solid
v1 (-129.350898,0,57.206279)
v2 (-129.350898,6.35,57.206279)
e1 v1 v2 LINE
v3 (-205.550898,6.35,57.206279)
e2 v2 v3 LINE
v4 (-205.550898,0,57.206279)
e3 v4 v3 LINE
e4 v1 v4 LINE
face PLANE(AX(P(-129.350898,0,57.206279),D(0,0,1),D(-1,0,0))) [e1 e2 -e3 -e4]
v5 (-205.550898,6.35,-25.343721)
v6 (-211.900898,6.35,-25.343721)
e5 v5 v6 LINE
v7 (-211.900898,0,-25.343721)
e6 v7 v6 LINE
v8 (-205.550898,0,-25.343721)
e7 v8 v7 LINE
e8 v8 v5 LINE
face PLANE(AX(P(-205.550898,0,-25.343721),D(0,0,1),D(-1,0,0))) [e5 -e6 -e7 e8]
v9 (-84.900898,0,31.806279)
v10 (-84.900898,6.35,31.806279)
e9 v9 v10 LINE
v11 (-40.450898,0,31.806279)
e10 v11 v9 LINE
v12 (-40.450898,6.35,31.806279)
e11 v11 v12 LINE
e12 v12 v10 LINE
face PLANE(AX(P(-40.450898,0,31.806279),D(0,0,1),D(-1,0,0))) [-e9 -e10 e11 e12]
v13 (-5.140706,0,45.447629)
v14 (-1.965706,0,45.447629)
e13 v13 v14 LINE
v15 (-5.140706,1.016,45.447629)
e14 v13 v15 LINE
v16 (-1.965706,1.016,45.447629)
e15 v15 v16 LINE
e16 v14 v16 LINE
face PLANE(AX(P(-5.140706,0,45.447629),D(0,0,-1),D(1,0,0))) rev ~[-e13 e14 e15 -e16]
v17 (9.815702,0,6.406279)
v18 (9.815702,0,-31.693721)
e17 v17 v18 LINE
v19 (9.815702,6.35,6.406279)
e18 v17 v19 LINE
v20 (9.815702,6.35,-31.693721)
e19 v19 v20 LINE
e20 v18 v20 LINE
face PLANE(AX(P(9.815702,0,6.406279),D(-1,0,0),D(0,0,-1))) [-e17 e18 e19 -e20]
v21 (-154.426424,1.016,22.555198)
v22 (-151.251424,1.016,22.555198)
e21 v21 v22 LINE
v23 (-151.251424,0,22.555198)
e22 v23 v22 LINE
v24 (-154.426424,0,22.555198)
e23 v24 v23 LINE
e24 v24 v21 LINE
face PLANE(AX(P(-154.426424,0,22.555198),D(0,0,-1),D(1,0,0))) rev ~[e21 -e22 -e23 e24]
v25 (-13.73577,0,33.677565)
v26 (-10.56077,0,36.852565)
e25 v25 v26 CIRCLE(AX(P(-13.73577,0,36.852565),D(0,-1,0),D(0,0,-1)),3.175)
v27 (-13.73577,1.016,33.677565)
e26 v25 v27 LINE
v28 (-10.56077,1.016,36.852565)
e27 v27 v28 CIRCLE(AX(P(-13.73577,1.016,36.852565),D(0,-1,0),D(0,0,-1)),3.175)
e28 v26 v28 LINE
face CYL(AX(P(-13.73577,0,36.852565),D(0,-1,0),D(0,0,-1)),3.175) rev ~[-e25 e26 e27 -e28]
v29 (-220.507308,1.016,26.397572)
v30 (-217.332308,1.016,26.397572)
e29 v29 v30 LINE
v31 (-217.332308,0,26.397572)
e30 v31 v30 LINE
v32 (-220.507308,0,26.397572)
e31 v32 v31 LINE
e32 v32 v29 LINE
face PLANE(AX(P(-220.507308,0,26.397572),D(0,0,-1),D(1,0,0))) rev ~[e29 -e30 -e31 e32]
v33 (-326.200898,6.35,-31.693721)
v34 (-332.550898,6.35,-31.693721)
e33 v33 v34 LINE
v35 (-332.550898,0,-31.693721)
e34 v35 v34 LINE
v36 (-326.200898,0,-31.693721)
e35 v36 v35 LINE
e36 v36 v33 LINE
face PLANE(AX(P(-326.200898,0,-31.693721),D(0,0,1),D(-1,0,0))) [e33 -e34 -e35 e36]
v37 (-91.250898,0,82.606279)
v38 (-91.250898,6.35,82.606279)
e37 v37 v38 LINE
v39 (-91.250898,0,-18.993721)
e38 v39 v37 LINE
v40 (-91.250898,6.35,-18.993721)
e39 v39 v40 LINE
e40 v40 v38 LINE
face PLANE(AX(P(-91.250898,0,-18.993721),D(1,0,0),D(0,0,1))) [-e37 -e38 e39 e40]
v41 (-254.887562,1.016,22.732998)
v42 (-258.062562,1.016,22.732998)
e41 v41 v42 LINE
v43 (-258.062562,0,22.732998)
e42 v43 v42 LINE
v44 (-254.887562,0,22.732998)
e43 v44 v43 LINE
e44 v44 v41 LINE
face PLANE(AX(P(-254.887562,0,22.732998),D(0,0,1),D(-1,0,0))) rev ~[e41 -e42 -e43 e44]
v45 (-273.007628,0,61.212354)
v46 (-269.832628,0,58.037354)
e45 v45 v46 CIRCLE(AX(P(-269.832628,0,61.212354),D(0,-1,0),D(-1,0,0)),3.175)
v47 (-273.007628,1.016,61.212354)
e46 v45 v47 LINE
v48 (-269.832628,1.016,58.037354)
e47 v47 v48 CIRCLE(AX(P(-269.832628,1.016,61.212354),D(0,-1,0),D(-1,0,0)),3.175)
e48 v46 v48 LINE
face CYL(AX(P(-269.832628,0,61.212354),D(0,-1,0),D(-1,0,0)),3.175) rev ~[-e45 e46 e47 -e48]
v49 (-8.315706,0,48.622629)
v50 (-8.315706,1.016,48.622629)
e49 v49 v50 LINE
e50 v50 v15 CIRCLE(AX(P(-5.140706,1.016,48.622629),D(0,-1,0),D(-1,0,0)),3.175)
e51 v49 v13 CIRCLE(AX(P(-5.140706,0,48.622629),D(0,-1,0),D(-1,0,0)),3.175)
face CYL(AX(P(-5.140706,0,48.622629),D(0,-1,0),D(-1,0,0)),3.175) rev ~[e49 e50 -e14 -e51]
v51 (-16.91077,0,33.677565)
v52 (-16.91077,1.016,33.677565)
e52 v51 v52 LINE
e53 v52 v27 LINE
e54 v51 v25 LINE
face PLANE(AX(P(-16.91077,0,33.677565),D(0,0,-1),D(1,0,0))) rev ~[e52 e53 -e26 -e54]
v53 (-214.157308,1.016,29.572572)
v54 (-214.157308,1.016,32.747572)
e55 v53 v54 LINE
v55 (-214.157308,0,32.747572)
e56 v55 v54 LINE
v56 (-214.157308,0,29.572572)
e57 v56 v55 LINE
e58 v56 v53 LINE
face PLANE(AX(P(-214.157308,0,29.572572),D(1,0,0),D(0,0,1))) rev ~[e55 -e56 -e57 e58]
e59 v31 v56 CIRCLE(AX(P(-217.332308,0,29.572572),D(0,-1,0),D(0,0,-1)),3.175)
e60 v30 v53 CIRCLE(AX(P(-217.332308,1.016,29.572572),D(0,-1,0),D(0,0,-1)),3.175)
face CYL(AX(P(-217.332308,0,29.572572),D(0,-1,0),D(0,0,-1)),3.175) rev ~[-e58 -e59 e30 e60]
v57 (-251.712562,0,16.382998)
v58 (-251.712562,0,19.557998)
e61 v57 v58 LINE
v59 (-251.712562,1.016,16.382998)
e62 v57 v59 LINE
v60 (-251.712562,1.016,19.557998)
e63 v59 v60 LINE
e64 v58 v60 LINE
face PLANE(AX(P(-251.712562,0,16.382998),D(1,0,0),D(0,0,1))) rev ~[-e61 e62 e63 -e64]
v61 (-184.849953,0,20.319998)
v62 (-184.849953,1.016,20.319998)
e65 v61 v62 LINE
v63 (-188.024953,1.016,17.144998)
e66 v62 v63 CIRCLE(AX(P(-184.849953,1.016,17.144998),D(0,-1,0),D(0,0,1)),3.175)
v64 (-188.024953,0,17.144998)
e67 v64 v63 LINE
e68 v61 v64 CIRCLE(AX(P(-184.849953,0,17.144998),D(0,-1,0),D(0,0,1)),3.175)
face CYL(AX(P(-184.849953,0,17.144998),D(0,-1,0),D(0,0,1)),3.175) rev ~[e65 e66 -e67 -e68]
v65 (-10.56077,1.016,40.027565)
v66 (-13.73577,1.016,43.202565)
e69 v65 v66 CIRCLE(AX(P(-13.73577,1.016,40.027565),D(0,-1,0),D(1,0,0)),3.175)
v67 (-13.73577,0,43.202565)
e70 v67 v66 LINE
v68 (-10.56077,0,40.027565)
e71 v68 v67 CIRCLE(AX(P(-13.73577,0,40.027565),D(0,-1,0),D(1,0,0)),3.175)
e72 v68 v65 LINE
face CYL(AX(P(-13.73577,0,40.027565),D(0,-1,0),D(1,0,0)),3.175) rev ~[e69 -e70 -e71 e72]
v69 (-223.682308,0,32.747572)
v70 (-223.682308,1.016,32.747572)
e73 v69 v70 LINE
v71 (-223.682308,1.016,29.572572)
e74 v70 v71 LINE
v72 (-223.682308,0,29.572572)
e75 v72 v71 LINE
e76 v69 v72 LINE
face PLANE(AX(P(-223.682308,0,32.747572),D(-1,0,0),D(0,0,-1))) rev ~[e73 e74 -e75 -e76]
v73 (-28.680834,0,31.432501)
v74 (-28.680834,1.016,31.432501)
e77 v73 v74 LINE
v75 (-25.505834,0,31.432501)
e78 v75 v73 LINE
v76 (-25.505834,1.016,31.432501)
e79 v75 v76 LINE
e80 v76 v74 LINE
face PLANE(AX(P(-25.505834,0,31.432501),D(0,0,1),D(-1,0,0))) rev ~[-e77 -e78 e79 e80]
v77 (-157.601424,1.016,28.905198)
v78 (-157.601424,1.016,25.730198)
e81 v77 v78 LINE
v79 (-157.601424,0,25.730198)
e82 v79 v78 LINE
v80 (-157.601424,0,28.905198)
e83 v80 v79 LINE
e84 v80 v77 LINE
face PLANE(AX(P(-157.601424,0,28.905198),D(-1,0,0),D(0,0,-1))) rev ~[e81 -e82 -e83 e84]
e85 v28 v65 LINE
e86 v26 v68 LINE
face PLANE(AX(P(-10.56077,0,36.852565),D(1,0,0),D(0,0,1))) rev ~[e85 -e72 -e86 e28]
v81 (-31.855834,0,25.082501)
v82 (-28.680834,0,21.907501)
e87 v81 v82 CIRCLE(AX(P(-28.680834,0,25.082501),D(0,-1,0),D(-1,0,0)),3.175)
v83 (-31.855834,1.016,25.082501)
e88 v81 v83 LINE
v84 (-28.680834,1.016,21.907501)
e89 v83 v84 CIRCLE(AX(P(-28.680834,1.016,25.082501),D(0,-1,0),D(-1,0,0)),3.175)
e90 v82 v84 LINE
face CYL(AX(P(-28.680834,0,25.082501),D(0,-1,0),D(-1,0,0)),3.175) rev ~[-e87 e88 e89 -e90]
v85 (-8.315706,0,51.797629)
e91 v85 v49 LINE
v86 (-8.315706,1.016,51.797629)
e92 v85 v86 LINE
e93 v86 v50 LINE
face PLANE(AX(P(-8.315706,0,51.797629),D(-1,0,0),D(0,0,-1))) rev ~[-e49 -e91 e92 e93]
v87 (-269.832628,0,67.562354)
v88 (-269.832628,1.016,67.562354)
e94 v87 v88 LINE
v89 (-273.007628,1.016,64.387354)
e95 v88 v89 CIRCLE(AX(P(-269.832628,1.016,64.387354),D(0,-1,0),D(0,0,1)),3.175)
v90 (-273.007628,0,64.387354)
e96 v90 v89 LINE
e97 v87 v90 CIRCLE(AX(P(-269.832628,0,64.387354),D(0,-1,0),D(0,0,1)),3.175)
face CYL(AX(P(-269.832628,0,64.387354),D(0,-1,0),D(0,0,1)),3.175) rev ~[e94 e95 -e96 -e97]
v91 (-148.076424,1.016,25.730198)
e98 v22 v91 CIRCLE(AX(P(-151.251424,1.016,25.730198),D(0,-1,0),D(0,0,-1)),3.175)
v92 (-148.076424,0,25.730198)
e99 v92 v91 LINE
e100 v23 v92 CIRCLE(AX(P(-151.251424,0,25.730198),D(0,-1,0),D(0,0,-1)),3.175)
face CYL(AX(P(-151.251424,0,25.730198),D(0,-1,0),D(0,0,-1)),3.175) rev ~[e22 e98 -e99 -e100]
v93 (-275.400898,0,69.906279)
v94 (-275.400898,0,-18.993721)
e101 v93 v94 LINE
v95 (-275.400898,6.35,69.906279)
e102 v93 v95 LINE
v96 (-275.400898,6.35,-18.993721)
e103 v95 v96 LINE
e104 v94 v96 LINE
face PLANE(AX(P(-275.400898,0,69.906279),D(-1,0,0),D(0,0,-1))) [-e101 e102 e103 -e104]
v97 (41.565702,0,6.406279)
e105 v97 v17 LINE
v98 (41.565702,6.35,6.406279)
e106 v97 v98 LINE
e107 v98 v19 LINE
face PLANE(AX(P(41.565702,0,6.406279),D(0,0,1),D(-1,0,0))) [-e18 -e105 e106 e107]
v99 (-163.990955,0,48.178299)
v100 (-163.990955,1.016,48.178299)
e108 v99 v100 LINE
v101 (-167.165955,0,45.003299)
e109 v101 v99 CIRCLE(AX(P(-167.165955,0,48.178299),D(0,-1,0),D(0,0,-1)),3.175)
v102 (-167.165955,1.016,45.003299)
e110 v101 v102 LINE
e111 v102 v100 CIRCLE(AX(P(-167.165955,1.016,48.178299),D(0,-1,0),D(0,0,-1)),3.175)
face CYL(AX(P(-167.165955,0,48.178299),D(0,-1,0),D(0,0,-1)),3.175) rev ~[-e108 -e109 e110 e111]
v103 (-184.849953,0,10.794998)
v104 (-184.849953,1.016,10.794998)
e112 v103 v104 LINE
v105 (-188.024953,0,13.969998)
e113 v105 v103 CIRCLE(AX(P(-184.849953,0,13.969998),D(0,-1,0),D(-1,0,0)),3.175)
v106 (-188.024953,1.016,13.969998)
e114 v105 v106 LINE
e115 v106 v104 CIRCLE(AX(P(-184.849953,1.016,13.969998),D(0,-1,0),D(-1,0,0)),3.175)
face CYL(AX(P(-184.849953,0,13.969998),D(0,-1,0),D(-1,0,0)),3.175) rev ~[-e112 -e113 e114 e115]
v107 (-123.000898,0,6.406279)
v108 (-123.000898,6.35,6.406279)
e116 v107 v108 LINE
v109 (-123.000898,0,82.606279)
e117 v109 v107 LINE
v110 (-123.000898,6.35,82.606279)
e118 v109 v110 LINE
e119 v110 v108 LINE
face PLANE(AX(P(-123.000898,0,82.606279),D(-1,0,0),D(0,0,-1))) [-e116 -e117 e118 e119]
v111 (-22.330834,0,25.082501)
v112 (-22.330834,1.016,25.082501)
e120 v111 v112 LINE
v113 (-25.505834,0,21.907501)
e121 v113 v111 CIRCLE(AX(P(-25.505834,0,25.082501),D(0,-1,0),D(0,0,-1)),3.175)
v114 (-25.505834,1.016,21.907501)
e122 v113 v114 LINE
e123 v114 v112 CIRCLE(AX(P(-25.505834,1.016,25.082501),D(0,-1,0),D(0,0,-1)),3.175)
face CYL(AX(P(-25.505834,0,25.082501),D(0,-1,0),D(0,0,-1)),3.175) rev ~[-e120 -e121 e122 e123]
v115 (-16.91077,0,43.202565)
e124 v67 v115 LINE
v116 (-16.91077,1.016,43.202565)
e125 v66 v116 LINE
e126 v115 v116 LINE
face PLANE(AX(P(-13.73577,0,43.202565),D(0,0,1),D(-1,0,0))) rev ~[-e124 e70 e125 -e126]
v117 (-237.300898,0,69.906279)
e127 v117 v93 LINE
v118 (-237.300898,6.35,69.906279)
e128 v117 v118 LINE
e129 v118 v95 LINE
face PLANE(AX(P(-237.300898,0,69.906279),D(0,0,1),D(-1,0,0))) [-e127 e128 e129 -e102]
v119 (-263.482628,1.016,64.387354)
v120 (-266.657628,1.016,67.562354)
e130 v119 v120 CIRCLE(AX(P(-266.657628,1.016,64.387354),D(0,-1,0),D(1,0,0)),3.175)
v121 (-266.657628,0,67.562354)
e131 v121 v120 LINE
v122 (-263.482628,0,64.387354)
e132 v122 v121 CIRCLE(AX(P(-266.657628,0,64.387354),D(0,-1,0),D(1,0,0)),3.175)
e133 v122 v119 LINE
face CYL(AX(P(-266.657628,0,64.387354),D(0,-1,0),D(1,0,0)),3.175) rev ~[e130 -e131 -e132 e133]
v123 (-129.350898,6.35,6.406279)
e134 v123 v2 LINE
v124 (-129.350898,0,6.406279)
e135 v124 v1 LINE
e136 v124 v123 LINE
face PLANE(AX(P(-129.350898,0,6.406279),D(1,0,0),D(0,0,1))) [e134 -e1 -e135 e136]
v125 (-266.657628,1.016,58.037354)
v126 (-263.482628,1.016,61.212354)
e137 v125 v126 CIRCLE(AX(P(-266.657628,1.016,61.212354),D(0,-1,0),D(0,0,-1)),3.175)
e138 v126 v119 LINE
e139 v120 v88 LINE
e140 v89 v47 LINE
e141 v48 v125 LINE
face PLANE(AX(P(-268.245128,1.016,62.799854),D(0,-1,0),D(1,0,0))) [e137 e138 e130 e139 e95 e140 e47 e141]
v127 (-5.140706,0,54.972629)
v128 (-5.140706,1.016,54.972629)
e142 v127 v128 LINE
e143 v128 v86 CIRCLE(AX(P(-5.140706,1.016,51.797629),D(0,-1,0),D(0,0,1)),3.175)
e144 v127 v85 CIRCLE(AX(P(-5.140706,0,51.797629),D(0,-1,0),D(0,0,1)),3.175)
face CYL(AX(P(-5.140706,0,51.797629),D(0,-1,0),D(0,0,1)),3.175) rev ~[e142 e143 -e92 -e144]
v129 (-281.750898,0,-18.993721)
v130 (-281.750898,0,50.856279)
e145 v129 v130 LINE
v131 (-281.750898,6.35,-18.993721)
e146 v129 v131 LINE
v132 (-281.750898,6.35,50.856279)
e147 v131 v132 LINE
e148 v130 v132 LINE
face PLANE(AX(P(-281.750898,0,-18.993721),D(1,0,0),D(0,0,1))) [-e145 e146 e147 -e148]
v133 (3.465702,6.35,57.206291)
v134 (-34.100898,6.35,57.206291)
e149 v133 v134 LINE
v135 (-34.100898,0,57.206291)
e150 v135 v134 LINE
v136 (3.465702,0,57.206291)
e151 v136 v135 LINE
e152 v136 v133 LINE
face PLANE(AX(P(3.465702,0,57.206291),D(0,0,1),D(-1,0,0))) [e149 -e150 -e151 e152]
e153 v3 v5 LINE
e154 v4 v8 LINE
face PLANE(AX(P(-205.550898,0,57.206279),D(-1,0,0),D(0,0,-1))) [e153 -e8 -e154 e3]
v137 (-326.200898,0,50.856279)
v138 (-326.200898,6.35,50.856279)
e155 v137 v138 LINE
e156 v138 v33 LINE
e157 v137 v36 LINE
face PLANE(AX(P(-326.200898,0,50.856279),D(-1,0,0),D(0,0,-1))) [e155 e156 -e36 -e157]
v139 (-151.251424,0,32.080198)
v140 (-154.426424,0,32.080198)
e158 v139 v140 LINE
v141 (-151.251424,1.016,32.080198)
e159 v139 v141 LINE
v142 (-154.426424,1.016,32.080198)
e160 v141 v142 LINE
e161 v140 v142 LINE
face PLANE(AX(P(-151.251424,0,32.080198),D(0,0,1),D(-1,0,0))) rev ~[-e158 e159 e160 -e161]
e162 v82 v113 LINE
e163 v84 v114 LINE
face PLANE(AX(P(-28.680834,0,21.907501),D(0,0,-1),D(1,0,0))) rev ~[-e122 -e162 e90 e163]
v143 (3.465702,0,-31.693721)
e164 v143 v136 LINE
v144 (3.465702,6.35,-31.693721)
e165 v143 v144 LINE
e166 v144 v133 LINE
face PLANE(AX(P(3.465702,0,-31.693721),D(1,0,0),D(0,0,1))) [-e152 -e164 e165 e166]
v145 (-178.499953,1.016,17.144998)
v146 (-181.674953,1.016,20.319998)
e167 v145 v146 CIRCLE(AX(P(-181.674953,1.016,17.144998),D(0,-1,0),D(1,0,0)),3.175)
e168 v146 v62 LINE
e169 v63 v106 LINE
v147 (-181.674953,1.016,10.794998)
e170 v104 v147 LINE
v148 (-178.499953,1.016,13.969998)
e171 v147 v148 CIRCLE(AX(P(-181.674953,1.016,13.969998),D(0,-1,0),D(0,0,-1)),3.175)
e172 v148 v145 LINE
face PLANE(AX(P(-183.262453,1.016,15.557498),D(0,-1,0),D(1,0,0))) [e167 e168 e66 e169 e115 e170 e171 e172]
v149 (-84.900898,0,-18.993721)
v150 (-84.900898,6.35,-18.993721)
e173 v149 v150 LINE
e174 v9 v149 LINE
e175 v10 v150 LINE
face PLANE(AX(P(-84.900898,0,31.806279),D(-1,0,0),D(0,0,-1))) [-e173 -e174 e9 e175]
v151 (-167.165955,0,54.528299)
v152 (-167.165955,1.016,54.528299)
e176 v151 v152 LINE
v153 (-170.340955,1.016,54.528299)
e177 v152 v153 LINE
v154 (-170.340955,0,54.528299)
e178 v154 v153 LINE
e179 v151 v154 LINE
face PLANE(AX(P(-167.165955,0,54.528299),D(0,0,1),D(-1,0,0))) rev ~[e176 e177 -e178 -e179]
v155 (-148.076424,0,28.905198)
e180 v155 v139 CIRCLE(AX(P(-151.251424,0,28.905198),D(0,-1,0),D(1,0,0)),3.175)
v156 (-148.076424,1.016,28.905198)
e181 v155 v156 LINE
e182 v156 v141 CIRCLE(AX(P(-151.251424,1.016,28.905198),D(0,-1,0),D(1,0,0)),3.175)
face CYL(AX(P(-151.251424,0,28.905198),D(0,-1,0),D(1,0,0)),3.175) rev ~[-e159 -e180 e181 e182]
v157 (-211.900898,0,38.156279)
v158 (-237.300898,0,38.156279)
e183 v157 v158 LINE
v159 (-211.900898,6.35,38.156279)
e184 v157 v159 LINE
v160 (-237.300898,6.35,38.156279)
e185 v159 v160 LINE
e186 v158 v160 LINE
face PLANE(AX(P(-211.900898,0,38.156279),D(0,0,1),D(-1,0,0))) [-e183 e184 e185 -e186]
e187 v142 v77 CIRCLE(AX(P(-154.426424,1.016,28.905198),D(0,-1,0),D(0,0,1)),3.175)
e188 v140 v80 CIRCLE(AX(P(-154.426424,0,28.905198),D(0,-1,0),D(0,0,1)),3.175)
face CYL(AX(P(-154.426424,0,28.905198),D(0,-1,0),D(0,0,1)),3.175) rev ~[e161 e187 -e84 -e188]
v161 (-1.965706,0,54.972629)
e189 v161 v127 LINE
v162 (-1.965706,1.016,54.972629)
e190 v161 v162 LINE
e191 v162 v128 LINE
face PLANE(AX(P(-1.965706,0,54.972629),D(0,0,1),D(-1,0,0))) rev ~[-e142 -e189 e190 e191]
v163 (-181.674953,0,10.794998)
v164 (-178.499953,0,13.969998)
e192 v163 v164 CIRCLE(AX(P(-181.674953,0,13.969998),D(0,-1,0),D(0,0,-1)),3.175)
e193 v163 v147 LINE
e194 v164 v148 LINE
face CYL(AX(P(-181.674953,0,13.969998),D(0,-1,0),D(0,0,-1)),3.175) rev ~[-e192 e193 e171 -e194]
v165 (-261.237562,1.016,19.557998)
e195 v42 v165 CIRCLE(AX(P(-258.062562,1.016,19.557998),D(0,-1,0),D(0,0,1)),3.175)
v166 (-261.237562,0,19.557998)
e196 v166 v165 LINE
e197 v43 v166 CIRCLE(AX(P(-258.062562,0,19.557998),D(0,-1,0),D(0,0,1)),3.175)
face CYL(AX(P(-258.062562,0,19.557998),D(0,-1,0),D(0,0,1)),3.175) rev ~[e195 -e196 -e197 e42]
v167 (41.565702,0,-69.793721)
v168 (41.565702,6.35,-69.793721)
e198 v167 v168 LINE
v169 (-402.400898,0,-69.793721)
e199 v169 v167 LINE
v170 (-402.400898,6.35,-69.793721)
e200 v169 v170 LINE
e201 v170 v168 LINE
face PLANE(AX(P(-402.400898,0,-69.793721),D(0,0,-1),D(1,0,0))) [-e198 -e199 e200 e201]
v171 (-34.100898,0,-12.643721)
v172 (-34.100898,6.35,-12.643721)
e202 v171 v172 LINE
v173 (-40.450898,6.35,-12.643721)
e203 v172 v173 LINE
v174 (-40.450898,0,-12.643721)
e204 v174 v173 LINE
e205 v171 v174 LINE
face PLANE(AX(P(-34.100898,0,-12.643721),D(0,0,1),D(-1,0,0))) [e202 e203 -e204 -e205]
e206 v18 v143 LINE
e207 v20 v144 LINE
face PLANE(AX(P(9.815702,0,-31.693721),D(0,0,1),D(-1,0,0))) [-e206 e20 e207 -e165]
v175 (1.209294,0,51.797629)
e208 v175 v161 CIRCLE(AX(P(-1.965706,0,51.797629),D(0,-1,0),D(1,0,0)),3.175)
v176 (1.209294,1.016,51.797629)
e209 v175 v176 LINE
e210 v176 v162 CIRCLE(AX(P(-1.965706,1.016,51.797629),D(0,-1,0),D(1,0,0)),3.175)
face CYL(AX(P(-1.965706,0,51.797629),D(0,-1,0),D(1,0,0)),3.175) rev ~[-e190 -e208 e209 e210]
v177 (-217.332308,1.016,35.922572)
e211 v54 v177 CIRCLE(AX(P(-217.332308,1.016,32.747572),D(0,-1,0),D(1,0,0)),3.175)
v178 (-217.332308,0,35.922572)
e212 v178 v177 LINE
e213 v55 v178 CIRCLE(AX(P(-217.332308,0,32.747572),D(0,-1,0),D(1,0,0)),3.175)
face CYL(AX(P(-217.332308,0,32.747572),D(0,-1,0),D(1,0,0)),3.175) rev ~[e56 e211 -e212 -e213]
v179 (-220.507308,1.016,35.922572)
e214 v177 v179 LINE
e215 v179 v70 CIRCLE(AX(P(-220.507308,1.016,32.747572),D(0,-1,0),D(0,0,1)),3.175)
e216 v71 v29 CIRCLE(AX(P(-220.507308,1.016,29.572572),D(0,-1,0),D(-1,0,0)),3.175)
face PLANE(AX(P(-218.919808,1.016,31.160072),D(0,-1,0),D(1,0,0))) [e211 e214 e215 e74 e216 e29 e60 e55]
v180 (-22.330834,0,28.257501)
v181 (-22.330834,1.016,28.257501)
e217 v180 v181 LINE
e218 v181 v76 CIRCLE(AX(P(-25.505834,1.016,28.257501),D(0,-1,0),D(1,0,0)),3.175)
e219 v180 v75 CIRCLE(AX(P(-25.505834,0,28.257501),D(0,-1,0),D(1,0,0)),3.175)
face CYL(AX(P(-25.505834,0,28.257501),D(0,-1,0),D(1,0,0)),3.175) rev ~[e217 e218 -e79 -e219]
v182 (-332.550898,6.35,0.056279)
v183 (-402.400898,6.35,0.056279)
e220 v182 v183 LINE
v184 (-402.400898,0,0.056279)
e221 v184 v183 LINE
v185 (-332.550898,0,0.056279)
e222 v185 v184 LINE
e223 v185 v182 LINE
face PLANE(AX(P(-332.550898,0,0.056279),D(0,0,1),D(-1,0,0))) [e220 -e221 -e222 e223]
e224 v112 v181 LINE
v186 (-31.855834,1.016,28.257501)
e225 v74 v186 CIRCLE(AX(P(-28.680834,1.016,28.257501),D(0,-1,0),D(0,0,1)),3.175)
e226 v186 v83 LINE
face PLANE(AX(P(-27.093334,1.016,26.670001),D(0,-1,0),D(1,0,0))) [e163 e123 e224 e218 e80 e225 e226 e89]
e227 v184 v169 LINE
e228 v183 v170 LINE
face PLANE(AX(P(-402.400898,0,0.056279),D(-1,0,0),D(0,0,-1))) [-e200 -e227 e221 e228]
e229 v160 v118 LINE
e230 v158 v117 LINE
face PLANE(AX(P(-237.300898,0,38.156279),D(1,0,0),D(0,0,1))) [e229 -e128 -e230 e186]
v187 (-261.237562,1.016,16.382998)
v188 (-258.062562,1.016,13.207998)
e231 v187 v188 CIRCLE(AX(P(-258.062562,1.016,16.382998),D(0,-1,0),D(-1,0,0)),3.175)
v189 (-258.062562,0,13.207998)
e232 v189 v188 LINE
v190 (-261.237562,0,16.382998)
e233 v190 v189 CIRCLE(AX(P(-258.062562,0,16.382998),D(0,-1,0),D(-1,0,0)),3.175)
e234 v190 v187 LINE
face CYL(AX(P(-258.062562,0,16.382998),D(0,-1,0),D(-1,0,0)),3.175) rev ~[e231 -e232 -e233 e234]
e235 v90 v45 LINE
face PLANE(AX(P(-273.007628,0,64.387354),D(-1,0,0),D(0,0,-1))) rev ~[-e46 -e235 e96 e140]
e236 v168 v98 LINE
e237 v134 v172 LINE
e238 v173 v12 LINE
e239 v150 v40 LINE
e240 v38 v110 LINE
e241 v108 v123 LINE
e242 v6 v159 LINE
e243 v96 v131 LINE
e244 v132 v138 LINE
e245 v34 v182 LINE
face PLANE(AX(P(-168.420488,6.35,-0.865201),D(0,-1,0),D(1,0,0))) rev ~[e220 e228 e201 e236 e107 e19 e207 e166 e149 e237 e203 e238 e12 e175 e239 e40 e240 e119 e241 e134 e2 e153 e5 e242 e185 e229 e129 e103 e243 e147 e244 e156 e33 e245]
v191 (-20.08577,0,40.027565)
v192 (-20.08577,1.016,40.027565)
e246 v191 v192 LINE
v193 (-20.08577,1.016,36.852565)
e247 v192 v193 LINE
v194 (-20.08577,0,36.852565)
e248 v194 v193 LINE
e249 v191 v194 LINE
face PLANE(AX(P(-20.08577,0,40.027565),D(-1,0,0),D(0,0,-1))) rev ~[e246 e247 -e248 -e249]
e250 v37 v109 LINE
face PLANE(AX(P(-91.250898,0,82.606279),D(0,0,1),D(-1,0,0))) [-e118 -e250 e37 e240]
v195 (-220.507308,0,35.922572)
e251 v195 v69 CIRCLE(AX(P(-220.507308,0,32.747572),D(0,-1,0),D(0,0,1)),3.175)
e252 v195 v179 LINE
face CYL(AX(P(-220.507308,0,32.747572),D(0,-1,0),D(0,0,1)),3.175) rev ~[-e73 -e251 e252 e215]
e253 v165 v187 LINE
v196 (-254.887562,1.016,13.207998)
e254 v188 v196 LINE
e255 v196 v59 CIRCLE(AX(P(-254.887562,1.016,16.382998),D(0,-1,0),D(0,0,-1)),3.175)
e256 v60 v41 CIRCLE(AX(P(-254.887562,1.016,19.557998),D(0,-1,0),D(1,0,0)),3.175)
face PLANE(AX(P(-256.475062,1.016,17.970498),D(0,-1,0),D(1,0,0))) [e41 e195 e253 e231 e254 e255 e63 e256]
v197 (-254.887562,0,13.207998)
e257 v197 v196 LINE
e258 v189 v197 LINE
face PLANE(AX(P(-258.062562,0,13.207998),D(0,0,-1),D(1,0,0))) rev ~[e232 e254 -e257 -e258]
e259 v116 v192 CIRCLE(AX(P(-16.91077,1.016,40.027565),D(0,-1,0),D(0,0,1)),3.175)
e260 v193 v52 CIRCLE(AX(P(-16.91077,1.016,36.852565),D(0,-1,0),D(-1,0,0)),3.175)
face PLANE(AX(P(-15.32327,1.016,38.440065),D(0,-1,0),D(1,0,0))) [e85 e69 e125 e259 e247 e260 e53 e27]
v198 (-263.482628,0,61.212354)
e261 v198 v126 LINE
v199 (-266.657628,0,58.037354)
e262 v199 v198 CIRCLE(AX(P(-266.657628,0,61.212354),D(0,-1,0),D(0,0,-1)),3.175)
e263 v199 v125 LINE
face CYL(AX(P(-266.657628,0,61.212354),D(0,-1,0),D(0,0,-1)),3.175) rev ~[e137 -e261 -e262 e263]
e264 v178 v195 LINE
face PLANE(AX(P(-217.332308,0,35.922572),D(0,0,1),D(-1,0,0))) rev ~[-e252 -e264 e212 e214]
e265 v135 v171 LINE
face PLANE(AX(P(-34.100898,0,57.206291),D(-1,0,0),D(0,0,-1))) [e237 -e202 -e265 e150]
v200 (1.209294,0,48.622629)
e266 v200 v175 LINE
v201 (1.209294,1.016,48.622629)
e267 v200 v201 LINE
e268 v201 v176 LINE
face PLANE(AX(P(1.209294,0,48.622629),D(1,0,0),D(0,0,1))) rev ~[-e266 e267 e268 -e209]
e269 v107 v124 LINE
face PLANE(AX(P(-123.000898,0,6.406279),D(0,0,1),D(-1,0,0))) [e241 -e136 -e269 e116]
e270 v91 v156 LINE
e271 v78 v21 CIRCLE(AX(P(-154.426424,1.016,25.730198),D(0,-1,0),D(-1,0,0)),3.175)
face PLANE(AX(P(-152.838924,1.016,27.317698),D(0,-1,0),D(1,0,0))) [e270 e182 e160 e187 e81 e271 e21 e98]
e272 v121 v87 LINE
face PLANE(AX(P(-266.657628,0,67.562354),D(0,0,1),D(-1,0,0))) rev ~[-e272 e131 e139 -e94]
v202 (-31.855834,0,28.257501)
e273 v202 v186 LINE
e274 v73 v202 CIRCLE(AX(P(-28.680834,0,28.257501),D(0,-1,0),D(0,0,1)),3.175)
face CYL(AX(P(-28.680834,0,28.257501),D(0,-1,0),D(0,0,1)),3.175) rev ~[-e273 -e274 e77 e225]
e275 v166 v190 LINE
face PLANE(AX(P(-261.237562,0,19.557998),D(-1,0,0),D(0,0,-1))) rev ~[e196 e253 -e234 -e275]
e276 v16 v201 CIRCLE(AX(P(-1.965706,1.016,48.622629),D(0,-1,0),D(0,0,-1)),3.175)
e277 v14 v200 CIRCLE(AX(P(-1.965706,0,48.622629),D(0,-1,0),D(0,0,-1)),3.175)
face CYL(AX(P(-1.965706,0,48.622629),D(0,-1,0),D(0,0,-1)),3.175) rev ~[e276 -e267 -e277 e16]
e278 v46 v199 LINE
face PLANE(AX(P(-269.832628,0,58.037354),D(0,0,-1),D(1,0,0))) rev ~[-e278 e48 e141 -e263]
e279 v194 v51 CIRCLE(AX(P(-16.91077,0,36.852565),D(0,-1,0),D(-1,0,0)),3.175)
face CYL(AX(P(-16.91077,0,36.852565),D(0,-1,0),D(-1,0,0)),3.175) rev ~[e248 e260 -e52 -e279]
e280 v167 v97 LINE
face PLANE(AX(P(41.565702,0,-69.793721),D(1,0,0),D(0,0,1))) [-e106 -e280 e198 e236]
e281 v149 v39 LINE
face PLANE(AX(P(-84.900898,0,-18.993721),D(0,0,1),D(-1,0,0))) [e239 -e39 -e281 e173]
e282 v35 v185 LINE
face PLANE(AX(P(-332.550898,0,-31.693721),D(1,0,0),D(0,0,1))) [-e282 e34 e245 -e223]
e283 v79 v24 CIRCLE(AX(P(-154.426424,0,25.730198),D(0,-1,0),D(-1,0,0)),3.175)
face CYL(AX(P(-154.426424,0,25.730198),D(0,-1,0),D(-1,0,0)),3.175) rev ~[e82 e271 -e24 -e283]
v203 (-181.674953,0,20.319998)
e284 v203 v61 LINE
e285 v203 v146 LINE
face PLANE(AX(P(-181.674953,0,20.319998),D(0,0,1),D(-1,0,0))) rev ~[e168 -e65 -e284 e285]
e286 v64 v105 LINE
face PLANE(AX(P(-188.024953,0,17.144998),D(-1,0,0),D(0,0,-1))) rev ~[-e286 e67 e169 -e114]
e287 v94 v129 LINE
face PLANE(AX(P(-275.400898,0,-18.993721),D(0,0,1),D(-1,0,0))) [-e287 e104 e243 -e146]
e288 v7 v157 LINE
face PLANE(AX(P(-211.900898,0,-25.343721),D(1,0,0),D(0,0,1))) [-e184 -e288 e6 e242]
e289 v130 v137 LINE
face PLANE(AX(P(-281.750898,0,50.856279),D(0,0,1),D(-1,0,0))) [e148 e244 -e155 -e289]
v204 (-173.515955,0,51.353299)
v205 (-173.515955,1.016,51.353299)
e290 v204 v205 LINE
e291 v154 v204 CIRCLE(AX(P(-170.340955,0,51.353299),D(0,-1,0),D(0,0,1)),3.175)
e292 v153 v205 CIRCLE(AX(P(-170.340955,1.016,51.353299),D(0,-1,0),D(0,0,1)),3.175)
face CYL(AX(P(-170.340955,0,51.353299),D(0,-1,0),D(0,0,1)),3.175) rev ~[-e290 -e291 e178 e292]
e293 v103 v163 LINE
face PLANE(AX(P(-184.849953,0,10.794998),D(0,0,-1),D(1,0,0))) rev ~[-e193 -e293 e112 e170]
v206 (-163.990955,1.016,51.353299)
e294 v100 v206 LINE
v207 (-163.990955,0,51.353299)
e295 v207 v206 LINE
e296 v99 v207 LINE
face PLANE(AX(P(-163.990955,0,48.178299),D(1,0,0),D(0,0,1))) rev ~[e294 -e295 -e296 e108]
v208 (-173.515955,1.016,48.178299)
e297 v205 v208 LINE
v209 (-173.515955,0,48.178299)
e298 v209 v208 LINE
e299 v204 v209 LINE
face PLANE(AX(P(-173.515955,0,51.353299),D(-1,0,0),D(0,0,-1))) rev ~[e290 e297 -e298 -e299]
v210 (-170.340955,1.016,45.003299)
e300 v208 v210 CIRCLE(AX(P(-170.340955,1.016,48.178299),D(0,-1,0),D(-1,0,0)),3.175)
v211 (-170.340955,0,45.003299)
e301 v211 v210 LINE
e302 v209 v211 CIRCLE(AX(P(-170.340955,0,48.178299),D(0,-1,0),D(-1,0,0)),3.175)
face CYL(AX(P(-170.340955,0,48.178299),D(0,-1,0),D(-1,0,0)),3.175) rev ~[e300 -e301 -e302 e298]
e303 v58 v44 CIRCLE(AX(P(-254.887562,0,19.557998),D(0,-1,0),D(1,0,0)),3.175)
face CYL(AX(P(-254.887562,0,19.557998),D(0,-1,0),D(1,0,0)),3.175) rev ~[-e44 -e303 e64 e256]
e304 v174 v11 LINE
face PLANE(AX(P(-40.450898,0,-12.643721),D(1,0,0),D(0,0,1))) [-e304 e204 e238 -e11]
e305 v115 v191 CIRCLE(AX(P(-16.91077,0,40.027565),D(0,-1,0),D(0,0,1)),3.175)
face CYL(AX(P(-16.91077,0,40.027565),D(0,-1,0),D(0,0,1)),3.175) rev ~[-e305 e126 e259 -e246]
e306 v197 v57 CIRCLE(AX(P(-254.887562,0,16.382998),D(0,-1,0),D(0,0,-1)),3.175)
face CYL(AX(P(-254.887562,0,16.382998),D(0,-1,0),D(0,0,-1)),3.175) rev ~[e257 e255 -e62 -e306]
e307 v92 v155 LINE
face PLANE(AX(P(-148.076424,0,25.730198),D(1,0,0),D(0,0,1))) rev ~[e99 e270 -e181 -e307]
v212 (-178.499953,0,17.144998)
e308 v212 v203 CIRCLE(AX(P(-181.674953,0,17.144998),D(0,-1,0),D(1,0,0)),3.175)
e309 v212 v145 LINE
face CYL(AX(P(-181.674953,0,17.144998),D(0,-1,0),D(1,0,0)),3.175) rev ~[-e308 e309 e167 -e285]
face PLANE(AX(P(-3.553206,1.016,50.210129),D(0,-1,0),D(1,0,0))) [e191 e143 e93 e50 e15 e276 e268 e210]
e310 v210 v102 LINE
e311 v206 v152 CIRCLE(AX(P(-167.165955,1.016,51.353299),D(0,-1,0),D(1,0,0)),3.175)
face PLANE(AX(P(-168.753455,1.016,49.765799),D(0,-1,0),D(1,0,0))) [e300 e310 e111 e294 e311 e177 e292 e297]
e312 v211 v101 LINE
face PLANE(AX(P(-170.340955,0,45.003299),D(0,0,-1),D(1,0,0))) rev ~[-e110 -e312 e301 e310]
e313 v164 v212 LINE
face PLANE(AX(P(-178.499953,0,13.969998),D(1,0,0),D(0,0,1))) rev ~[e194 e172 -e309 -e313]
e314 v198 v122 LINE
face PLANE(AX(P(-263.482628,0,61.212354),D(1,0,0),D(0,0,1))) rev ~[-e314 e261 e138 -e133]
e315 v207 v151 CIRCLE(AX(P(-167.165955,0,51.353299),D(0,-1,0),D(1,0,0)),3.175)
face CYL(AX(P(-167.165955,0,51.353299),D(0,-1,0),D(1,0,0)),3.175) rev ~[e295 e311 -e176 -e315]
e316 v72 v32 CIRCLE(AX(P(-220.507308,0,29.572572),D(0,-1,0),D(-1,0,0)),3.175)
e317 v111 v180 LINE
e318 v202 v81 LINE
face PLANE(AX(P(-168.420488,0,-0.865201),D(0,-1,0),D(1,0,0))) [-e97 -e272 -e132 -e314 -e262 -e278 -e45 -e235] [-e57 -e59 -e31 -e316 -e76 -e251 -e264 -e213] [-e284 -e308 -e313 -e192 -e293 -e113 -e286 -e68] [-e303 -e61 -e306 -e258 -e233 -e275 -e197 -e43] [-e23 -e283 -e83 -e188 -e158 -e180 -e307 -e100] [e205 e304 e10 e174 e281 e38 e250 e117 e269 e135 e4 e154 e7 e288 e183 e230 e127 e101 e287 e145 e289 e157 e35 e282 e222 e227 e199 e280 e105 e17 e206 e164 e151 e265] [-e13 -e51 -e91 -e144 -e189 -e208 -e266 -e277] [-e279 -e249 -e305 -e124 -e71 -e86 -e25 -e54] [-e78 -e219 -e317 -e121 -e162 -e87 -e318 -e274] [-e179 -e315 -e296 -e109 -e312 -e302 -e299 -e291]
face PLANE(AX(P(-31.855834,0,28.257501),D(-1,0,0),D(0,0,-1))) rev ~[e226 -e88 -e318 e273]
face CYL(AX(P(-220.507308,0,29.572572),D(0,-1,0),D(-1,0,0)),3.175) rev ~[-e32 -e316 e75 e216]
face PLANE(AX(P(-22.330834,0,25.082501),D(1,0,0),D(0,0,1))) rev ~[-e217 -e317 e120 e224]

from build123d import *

# Parameters (mm, degrees)
F1_DEPTH = 6.35
F2_DEPTH = 1.016


with BuildPart() as f1:
    # F0 (on Front) → F1 (new body)
    with BuildSketch(Plane.XZ):
        Polygon((3.4657023708, 19.6624366212), (3.4657023708, 57.2062912531), (-34.1008976292, 57.2062912531), (-34.1008976292, 19.6624366212), (-34.1008976292, -12.6437214131), (-40.4508976292, -12.6437214131), (-40.4508976292, 31.8062785869), (-84.9008976292, 31.8062785869), (-84.9008976292, 17.7545957267), (-84.9008976292, -18.9937214131), (-91.2508976292, -18.9937214131), (-91.2508976292, 82.6062785869), (-123.0008976292, 82.6062785869), (-123.0008976292, 6.4062785869), (-129.3508976292, 6.4062785869), (-129.3508976292, 57.2062785869), (-205.5508976292, 57.2062785869), (-205.5508976292, -25.3437214131), (-211.9008976292, -25.3437214131), (-211.9008976292, 38.1562785869), (-237.3008976292, 38.1562785869), (-237.3008976292, 69.9062785869), (-275.4008976292, 69.9062785869), (-275.4008976292, -18.9937214131), (-281.7508976292, -18.9937214131), (-281.7508976292, 50.8562785869), (-326.2008976292, 50.8562785869), (-326.2008976292, -31.6937214131), (-332.5508976292, -31.6937214131), (-332.5508976292, 0.0562785869), (-402.4008976292, 0.0562785869), (-402.4008976292, -69.7937214131), (-332.5508976292, -69.7937214131), (-326.2008976292, -69.7937214131), (-281.7508976292, -69.7937214131), (-275.4008976292, -69.7937214131), (-237.3008976292, -69.7937214131), (-211.9008976292, -69.7937214131), (-205.5508976292, -69.7937214131), (-129.3508976292, -69.7937214131), (-123.0008976292, -69.7937214131), (-91.2508976292, -69.7937214131), (-84.9008976292, -69.7937214131), (-40.4508976292, -69.7937214131), (-34.1008976292, -69.7937214131), (3.4657023708, -69.7937214131), (9.8157023708, -69.7937214131), (41.5657023708, -69.7937214131), (41.5657023708, 6.4062785869), (9.8157023708, 6.4062785869), (9.8157023708, -31.6937214131), (3.4657023708, -31.6937214131), (3.4657023708, 19.651035132), align=None)
        with BuildLine():
            ThreePointArc((-258.0625617027, 13.2079981267), (-260.307625733, 14.1379340965), (-261.2375617027, 16.3829981267))
            Line((-261.2375617027, 16.3829981267), (-261.2375617027, 19.5579981267))
            ThreePointArc((-261.2375617027, 19.5579981267), (-260.307625733, 21.803062157), (-258.0625617027, 22.7329981267))
            Line((-258.0625617027, 22.7329981267), (-254.8875617027, 22.7329981267))
            ThreePointArc((-254.8875617027, 22.7329981267), (-252.6424976725, 21.803062157), (-251.7125617027, 19.5579981267))
            Line((-251.7125617027, 19.5579981267), (-251.7125617027, 16.3829981267))
            ThreePointArc((-251.7125617027, 16.3829981267), (-252.6424976725, 14.1379340965), (-254.8875617027, 13.2079981267))
            Line((-254.8875617027, 13.2079981267), (-258.0625617027, 13.2079981267))
        make_face(mode=Mode.SUBTRACT)
        with BuildLine():
            ThreePointArc((-188.0249530077, 17.1449978754), (-187.095017038, 19.3900619057), (-184.8499530077, 20.3199978754))
            Line((-184.8499530077, 20.3199978754), (-181.6749530077, 20.3199978754))
            ThreePointArc((-181.6749530077, 20.3199978754), (-179.4298889774, 19.3900619057), (-178.4999530077, 17.1449978754))
            Line((-178.4999530077, 17.1449978754), (-178.4999530077, 13.9699978754))
            ThreePointArc((-178.4999530077, 13.9699978754), (-179.4298889774, 11.7249338451), (-181.6749530077, 10.7949978754))
            Line((-181.6749530077, 10.7949978754), (-184.8499530077, 10.7949978754))
            ThreePointArc((-184.8499530077, 10.7949978754), (-187.095017038, 11.7249338451), (-188.0249530077, 13.9699978754))
            Line((-188.0249530077, 13.9699978754), (-188.0249530077, 17.1449978754))
        make_face(mode=Mode.SUBTRACT)
        with BuildLine():
            ThreePointArc((-223.6823077685, 32.7475722294), (-222.7523717988, 34.9926362596), (-220.5073077685, 35.9225722294))
            Line((-220.5073077685, 35.9225722294), (-217.3323077685, 35.9225722294))
            ThreePointArc((-217.3323077685, 35.9225722294), (-215.0872437382, 34.9926362596), (-214.1573077685, 32.7475722294))
            Line((-214.1573077685, 32.7475722294), (-214.1573077685, 29.5725722294))
            ThreePointArc((-214.1573077685, 29.5725722294), (-215.0872437382, 27.3275081991), (-217.3323077685, 26.3975722294))
            Line((-217.3323077685, 26.3975722294), (-220.5073077685, 26.3975722294))
            ThreePointArc((-220.5073077685, 26.3975722294), (-222.7523717988, 27.3275081991), (-223.6823077685, 29.5725722294))
            Line((-223.6823077685, 29.5725722294), (-223.6823077685, 32.7475722294))
        make_face(mode=Mode.SUBTRACT)
        with BuildLine():
            ThreePointArc((-269.8326279198, 58.0373540644), (-272.0776919501, 58.9672900342), (-273.0076279198, 61.2123540644))
            Line((-273.0076279198, 61.2123540644), (-273.0076279198, 64.3873540644))
            ThreePointArc((-273.0076279198, 64.3873540644), (-272.0776919501, 66.6324180947), (-269.8326279198, 67.5623540644))
            Line((-269.8326279198, 67.5623540644), (-266.6576279198, 67.5623540644))
            ThreePointArc((-266.6576279198, 67.5623540644), (-264.4125638896, 66.6324180947), (-263.4826279198, 64.3873540644))
            Line((-263.4826279198, 64.3873540644), (-263.4826279198, 61.2123540644))
            ThreePointArc((-263.4826279198, 61.2123540644), (-264.4125638896, 58.9672900342), (-266.6576279198, 58.0373540644))
            Line((-266.6576279198, 58.0373540644), (-269.8326279198, 58.0373540644))
        make_face(mode=Mode.SUBTRACT)
        with BuildLine():
            Line((-148.0764249472, 20.3199978754), (-181.6749530077, 20.3199978754))
            Line((-181.6749530077, 20.3199978754), (-181.6749530077, 22.5551978754))
            Line((-181.6749530077, 22.5551978754), (-154.4264242679, 22.5551978754))
            ThreePointArc((-154.4264242679, 22.5551978754), (-156.6714882982, 23.4851338451), (-157.6014242679, 25.7301978754))
            Line((-157.6014242679, 25.7301978754), (-157.6014242679, 28.9051978754))
            ThreePointArc((-157.6014242679, 28.9051978754), (-156.6714882982, 31.1502619057), (-154.4264242679, 32.0801978754))
            Line((-154.4264242679, 32.0801978754), (-151.2514242679, 32.0801978754))
            ThreePointArc((-151.2514242679, 32.0801978754), (-149.0063602376, 31.1502619057), (-148.0764242679, 28.9051978754))
            Line((-148.0764242679, 28.9051978754), (-148.0764242679, 25.7301978754))
            ThreePointArc((-148.0764242679, 25.7301978754), (-149.0063602376, 23.4851338451), (-151.2514242679, 22.5551978754))
            Line((-151.2514242679, 22.5551978754), (-148.0764249472, 22.5551978754))
            Line((-148.0764249472, 22.5551978754), (-148.0764249472, 20.3199978754))
        make_face(mode=Mode.SUBTRACT)
        with BuildLine():
            ThreePointArc((-31.855833599, 28.2575006515), (-30.9258976292, 30.5025646817), (-28.680833599, 31.4325006515))
            Line((-28.680833599, 31.4325006515), (-25.505833599, 31.4325006515))
            ThreePointArc((-25.505833599, 31.4325006515), (-23.2607695687, 30.5025646817), (-22.330833599, 28.2575006515))
            Line((-22.330833599, 28.2575006515), (-22.330833599, 25.0825006515))
            ThreePointArc((-22.330833599, 25.0825006515), (-23.2607695687, 22.8374366212), (-25.505833599, 21.9075006515))
            Line((-25.505833599, 21.9075006515), (-28.680833599, 21.9075006515))
            ThreePointArc((-28.680833599, 21.9075006515), (-30.9258976292, 22.8374366212), (-31.855833599, 25.0825006515))
            Line((-31.855833599, 25.0825006515), (-31.855833599, 28.2575006515))
        make_face(mode=Mode.SUBTRACT)
        with BuildLine():
            ThreePointArc((-20.0857695687, 40.0275646817), (-19.155833599, 42.272628712), (-16.9107695687, 43.2025646817))
            Line((-16.9107695687, 43.2025646817), (-13.7357695687, 43.2025646817))
            ThreePointArc((-13.7357695687, 43.2025646817), (-11.4907055384, 42.272628712), (-10.5607695687, 40.0275646817))
            Line((-10.5607695687, 40.0275646817), (-10.5607695687, 36.8525646817))
            ThreePointArc((-10.5607695687, 36.8525646817), (-11.4907055384, 34.6075006515), (-13.7357695687, 33.6775646817))
            Line((-13.7357695687, 33.6775646817), (-16.9107695687, 33.6775646817))
            ThreePointArc((-16.9107695687, 33.6775646817), (-19.155833599, 34.6075006515), (-20.0857695687, 36.8525646817))
            Line((-20.0857695687, 36.8525646817), (-20.0857695687, 40.0275646817))
        make_face(mode=Mode.SUBTRACT)
        with BuildLine():
            ThreePointArc((-173.5159547505, 51.3532994753), (-172.5860187808, 53.5983635056), (-170.3409547505, 54.5282994753))
            Line((-170.3409547505, 54.5282994753), (-167.1659547505, 54.5282994753))
            ThreePointArc((-167.1659547505, 54.5282994753), (-164.9208907202, 53.5983635056), (-163.9909547505, 51.3532994753))
            Line((-163.9909547505, 51.3532994753), (-163.9909547505, 48.1782994753))
            ThreePointArc((-163.9909547505, 48.1782994753), (-164.9208907202, 45.933235445), (-167.1659547505, 45.0032994753))
            Line((-167.1659547505, 45.0032994753), (-170.3409547505, 45.0032994753))
            ThreePointArc((-170.3409547505, 45.0032994753), (-172.5860187808, 45.933235445), (-173.5159547505, 48.1782994753))
            Line((-173.5159547505, 48.1782994753), (-173.5159547505, 51.3532994753))
        make_face(mode=Mode.SUBTRACT)
        with BuildLine():
            ThreePointArc((-8.3157055384, 51.797628712), (-7.3857695687, 54.0426927423), (-5.1407055384, 54.972628712))
            Line((-5.1407055384, 54.972628712), (-1.9657055384, 54.972628712))
            ThreePointArc((-1.9657055384, 54.972628712), (0.2793584918, 54.0426927423), (1.2092944616, 51.797628712))
            Line((1.2092944616, 51.797628712), (1.2092944616, 48.622628712))
            ThreePointArc((1.2092944616, 48.622628712), (0.2793584918, 46.3775646817), (-1.9657055384, 45.447628712))
            Line((-1.9657055384, 45.447628712), (-5.1407055384, 45.447628712))
            ThreePointArc((-5.1407055384, 45.447628712), (-7.3857695687, 46.3775646817), (-8.3157055384, 48.622628712))
            Line((-8.3157055384, 48.622628712), (-8.3157055384, 51.797628712))
        make_face(mode=Mode.SUBTRACT)
        with BuildLine():
            Line((-273.0076279198, 64.3873540644), (-273.0076279198, 61.2123540644))
            ThreePointArc((-273.0076279198, 61.2123540644), (-272.0776919501, 58.9672900342), (-269.8326279198, 58.0373540644))
            Line((-269.8326279198, 58.0373540644), (-266.6576279198, 58.0373540644))
            ThreePointArc((-266.6576279198, 58.0373540644), (-264.4125638896, 58.9672900342), (-263.4826279198, 61.2123540644))
            Line((-263.4826279198, 61.2123540644), (-263.4826279198, 64.3873540644))
            ThreePointArc((-263.4826279198, 64.3873540644), (-264.4125638896, 66.6324180947), (-266.6576279198, 67.5623540644))
            Line((-266.6576279198, 67.5623540644), (-269.8326279198, 67.5623540644))
            ThreePointArc((-269.8326279198, 67.5623540644), (-272.0776919501, 66.6324180947), (-273.0076279198, 64.3873540644))
        make_face()
        with BuildLine():
            Line((-181.6749530077, 20.3199978754), (-184.8499530077, 20.3199978754))
            ThreePointArc((-184.8499530077, 20.3199978754), (-187.095017038, 19.3900619057), (-188.0249530077, 17.1449978754))
            Line((-188.0249530077, 17.1449978754), (-188.0249530077, 13.9699978754))
            ThreePointArc((-188.0249530077, 13.9699978754), (-187.095017038, 11.7249338451), (-184.8499530077, 10.7949978754))
            Line((-184.8499530077, 10.7949978754), (-181.6749530077, 10.7949978754))
            ThreePointArc((-181.6749530077, 10.7949978754), (-179.4298889774, 11.7249338451), (-178.4999530077, 13.9699978754))
            Line((-178.4999530077, 13.9699978754), (-178.4999530077, 17.1449978754))
            ThreePointArc((-178.4999530077, 17.1449978754), (-179.4298889774, 19.3900619057), (-181.6749530077, 20.3199978754))
        make_face()
        with BuildLine():
            Line((-25.505833599, 31.4325006515), (-28.680833599, 31.4325006515))
            ThreePointArc((-28.680833599, 31.4325006515), (-30.9258976292, 30.5025646817), (-31.855833599, 28.2575006515))
            Line((-31.855833599, 28.2575006515), (-31.855833599, 25.0825006515))
            ThreePointArc((-31.855833599, 25.0825006515), (-30.9258976292, 22.8374366212), (-28.680833599, 21.9075006515))
            Line((-28.680833599, 21.9075006515), (-25.505833599, 21.9075006515))
            ThreePointArc((-25.505833599, 21.9075006515), (-23.2607695687, 22.8374366212), (-22.330833599, 25.0825006515))
            Line((-22.330833599, 25.0825006515), (-22.330833599, 28.2575006515))
            ThreePointArc((-22.330833599, 28.2575006515), (-23.2607695687, 30.5025646817), (-25.505833599, 31.4325006515))
        make_face()
        with BuildLine():
            ThreePointArc((-157.6014242679, 25.7301978754), (-156.6714882982, 23.4851338451), (-154.4264242679, 22.5551978754))
            Line((-154.4264242679, 22.5551978754), (-151.2514242679, 22.5551978754))
            ThreePointArc((-151.2514242679, 22.5551978754), (-149.0063602376, 23.4851338451), (-148.0764242679, 25.7301978754))
            Line((-148.0764242679, 25.7301978754), (-148.0764242679, 28.9051978754))
            ThreePointArc((-148.0764242679, 28.9051978754), (-149.0063602376, 31.1502619057), (-151.2514242679, 32.0801978754))
            Line((-151.2514242679, 32.0801978754), (-154.4264242679, 32.0801978754))
            ThreePointArc((-154.4264242679, 32.0801978754), (-156.6714882982, 31.1502619057), (-157.6014242679, 28.9051978754))
            Line((-157.6014242679, 28.9051978754), (-157.6014242679, 25.7301978754))
        make_face()
        with BuildLine():
            Line((-13.7357695687, 43.2025646817), (-16.9107695687, 43.2025646817))
            ThreePointArc((-16.9107695687, 43.2025646817), (-19.155833599, 42.272628712), (-20.0857695687, 40.0275646817))
            Line((-20.0857695687, 40.0275646817), (-20.0857695687, 36.8525646817))
            ThreePointArc((-20.0857695687, 36.8525646817), (-19.155833599, 34.6075006515), (-16.9107695687, 33.6775646817))
            Line((-16.9107695687, 33.6775646817), (-13.7357695687, 33.6775646817))
            ThreePointArc((-13.7357695687, 33.6775646817), (-11.4907055384, 34.6075006515), (-10.5607695687, 36.8525646817))
            Line((-10.5607695687, 36.8525646817), (-10.5607695687, 40.0275646817))
            ThreePointArc((-10.5607695687, 40.0275646817), (-11.4907055384, 42.272628712), (-13.7357695687, 43.2025646817))
        make_face()
        with BuildLine():
            Line((-261.2375617027, 19.5579981267), (-261.2375617027, 16.3829981267))
            ThreePointArc((-261.2375617027, 16.3829981267), (-260.307625733, 14.1379340965), (-258.0625617027, 13.2079981267))
            Line((-258.0625617027, 13.2079981267), (-254.8875617027, 13.2079981267))
            ThreePointArc((-254.8875617027, 13.2079981267), (-252.6424976725, 14.1379340965), (-251.7125617027, 16.3829981267))
            Line((-251.7125617027, 16.3829981267), (-251.7125617027, 19.5579981267))
            ThreePointArc((-251.7125617027, 19.5579981267), (-252.6424976725, 21.803062157), (-254.8875617027, 22.7329981267))
            Line((-254.8875617027, 22.7329981267), (-258.0625617027, 22.7329981267))
            ThreePointArc((-258.0625617027, 22.7329981267), (-260.307625733, 21.803062157), (-261.2375617027, 19.5579981267))
        make_face()
        with BuildLine():
            Line((-167.1659547505, 54.5282994753), (-170.3409547505, 54.5282994753))
            ThreePointArc((-170.3409547505, 54.5282994753), (-172.5860187808, 53.5983635056), (-173.5159547505, 51.3532994753))
            Line((-173.5159547505, 51.3532994753), (-173.5159547505, 48.1782994753))
            ThreePointArc((-173.5159547505, 48.1782994753), (-172.5860187808, 45.933235445), (-170.3409547505, 45.0032994753))
            Line((-170.3409547505, 45.0032994753), (-167.1659547505, 45.0032994753))
            ThreePointArc((-167.1659547505, 45.0032994753), (-164.9208907202, 45.933235445), (-163.9909547505, 48.1782994753))
            Line((-163.9909547505, 48.1782994753), (-163.9909547505, 51.3532994753))
            ThreePointArc((-163.9909547505, 51.3532994753), (-164.9208907202, 53.5983635056), (-167.1659547505, 54.5282994753))
        make_face()
        with BuildLine():
            Line((-1.9657055384, 54.972628712), (-5.1407055384, 54.972628712))
            ThreePointArc((-5.1407055384, 54.972628712), (-7.3857695687, 54.0426927423), (-8.3157055384, 51.797628712))
            Line((-8.3157055384, 51.797628712), (-8.3157055384, 48.622628712))
            ThreePointArc((-8.3157055384, 48.622628712), (-7.3857695687, 46.3775646817), (-5.1407055384, 45.447628712))
            Line((-5.1407055384, 45.447628712), (-1.9657055384, 45.447628712))
            ThreePointArc((-1.9657055384, 45.447628712), (0.2793584918, 46.3775646817), (1.2092944616, 48.622628712))
            Line((1.2092944616, 48.622628712), (1.2092944616, 51.797628712))
            ThreePointArc((1.2092944616, 51.797628712), (0.2793584918, 54.0426927423), (-1.9657055384, 54.972628712))
        make_face()
        with BuildLine():
            Line((-217.3323077685, 35.9225722294), (-220.5073077685, 35.9225722294))
            ThreePointArc((-220.5073077685, 35.9225722294), (-222.7523717988, 34.9926362596), (-223.6823077685, 32.7475722294))
            Line((-223.6823077685, 32.7475722294), (-223.6823077685, 29.5725722294))
            ThreePointArc((-223.6823077685, 29.5725722294), (-222.7523717988, 27.3275081991), (-220.5073077685, 26.3975722294))
            Line((-220.5073077685, 26.3975722294), (-217.3323077685, 26.3975722294))
            ThreePointArc((-217.3323077685, 26.3975722294), (-215.0872437382, 27.3275081991), (-214.1573077685, 29.5725722294))
            Line((-214.1573077685, 29.5725722294), (-214.1573077685, 32.7475722294))
            ThreePointArc((-214.1573077685, 32.7475722294), (-215.0872437382, 34.9926362596), (-217.3323077685, 35.9225722294))
        make_face()
        Polygon((-181.6749530077, 22.5551978754), (-181.6749530077, 20.3199978754), (-148.0764249472, 20.3199978754), (-148.0764249472, 22.5551978754), (-151.2514242679, 22.5551978754), (-154.4264242679, 22.5551978754), align=None)
    extrude(amount=-F1_DEPTH)

    # F0 (on Front) → F2 (cut)
    with BuildSketch(Plane.XZ):
        with BuildLine():
            Line((-273.0076279198, 64.3873540644), (-273.0076279198, 61.2123540644))
            ThreePointArc((-273.0076279198, 61.2123540644), (-272.0776919501, 58.9672900342), (-269.8326279198, 58.0373540644))
            Line((-269.8326279198, 58.0373540644), (-266.6576279198, 58.0373540644))
            ThreePointArc((-266.6576279198, 58.0373540644), (-264.4125638896, 58.9672900342), (-263.4826279198, 61.2123540644))
            Line((-263.4826279198, 61.2123540644), (-263.4826279198, 64.3873540644))
            ThreePointArc((-263.4826279198, 64.3873540644), (-264.4125638896, 66.6324180947), (-266.6576279198, 67.5623540644))
            Line((-266.6576279198, 67.5623540644), (-269.8326279198, 67.5623540644))
            ThreePointArc((-269.8326279198, 67.5623540644), (-272.0776919501, 66.6324180947), (-273.0076279198, 64.3873540644))
        make_face()
        with BuildLine():
            Line((-261.2375617027, 19.5579981267), (-261.2375617027, 16.3829981267))
            ThreePointArc((-261.2375617027, 16.3829981267), (-260.307625733, 14.1379340965), (-258.0625617027, 13.2079981267))
            Line((-258.0625617027, 13.2079981267), (-254.8875617027, 13.2079981267))
            ThreePointArc((-254.8875617027, 13.2079981267), (-252.6424976725, 14.1379340965), (-251.7125617027, 16.3829981267))
            Line((-251.7125617027, 16.3829981267), (-251.7125617027, 19.5579981267))
            ThreePointArc((-251.7125617027, 19.5579981267), (-252.6424976725, 21.803062157), (-254.8875617027, 22.7329981267))
            Line((-254.8875617027, 22.7329981267), (-258.0625617027, 22.7329981267))
            ThreePointArc((-258.0625617027, 22.7329981267), (-260.307625733, 21.803062157), (-261.2375617027, 19.5579981267))
        make_face()
        with BuildLine():
            Line((-217.3323077685, 35.9225722294), (-220.5073077685, 35.9225722294))
            ThreePointArc((-220.5073077685, 35.9225722294), (-222.7523717988, 34.9926362596), (-223.6823077685, 32.7475722294))
            Line((-223.6823077685, 32.7475722294), (-223.6823077685, 29.5725722294))
            ThreePointArc((-223.6823077685, 29.5725722294), (-222.7523717988, 27.3275081991), (-220.5073077685, 26.3975722294))
            Line((-220.5073077685, 26.3975722294), (-217.3323077685, 26.3975722294))
            ThreePointArc((-217.3323077685, 26.3975722294), (-215.0872437382, 27.3275081991), (-214.1573077685, 29.5725722294))
            Line((-214.1573077685, 29.5725722294), (-214.1573077685, 32.7475722294))
            ThreePointArc((-214.1573077685, 32.7475722294), (-215.0872437382, 34.9926362596), (-217.3323077685, 35.9225722294))
        make_face()
        with BuildLine():
            Line((-167.1659547505, 54.5282994753), (-170.3409547505, 54.5282994753))
            ThreePointArc((-170.3409547505, 54.5282994753), (-172.5860187808, 53.5983635056), (-173.5159547505, 51.3532994753))
            Line((-173.5159547505, 51.3532994753), (-173.5159547505, 48.1782994753))
            ThreePointArc((-173.5159547505, 48.1782994753), (-172.5860187808, 45.933235445), (-170.3409547505, 45.0032994753))
            Line((-170.3409547505, 45.0032994753), (-167.1659547505, 45.0032994753))
            ThreePointArc((-167.1659547505, 45.0032994753), (-164.9208907202, 45.933235445), (-163.9909547505, 48.1782994753))
            Line((-163.9909547505, 48.1782994753), (-163.9909547505, 51.3532994753))
            ThreePointArc((-163.9909547505, 51.3532994753), (-164.9208907202, 53.5983635056), (-167.1659547505, 54.5282994753))
        make_face()
        with BuildLine():
            Line((-181.6749530077, 20.3199978754), (-184.8499530077, 20.3199978754))
            ThreePointArc((-184.8499530077, 20.3199978754), (-187.095017038, 19.3900619057), (-188.0249530077, 17.1449978754))
            Line((-188.0249530077, 17.1449978754), (-188.0249530077, 13.9699978754))
            ThreePointArc((-188.0249530077, 13.9699978754), (-187.095017038, 11.7249338451), (-184.8499530077, 10.7949978754))
            Line((-184.8499530077, 10.7949978754), (-181.6749530077, 10.7949978754))
            ThreePointArc((-181.6749530077, 10.7949978754), (-179.4298889774, 11.7249338451), (-178.4999530077, 13.9699978754))
            Line((-178.4999530077, 13.9699978754), (-178.4999530077, 17.1449978754))
            ThreePointArc((-178.4999530077, 17.1449978754), (-179.4298889774, 19.3900619057), (-181.6749530077, 20.3199978754))
        make_face()
        with BuildLine():
            ThreePointArc((-157.6014242679, 25.7301978754), (-156.6714882982, 23.4851338451), (-154.4264242679, 22.5551978754))
            Line((-154.4264242679, 22.5551978754), (-151.2514242679, 22.5551978754))
            ThreePointArc((-151.2514242679, 22.5551978754), (-149.0063602376, 23.4851338451), (-148.0764242679, 25.7301978754))
            Line((-148.0764242679, 25.7301978754), (-148.0764242679, 28.9051978754))
            ThreePointArc((-148.0764242679, 28.9051978754), (-149.0063602376, 31.1502619057), (-151.2514242679, 32.0801978754))
            Line((-151.2514242679, 32.0801978754), (-154.4264242679, 32.0801978754))
            ThreePointArc((-154.4264242679, 32.0801978754), (-156.6714882982, 31.1502619057), (-157.6014242679, 28.9051978754))
            Line((-157.6014242679, 28.9051978754), (-157.6014242679, 25.7301978754))
        make_face()
        with BuildLine():
            Line((-25.505833599, 31.4325006515), (-28.680833599, 31.4325006515))
            ThreePointArc((-28.680833599, 31.4325006515), (-30.9258976292, 30.5025646817), (-31.855833599, 28.2575006515))
            Line((-31.855833599, 28.2575006515), (-31.855833599, 25.0825006515))
            ThreePointArc((-31.855833599, 25.0825006515), (-30.9258976292, 22.8374366212), (-28.680833599, 21.9075006515))
            Line((-28.680833599, 21.9075006515), (-25.505833599, 21.9075006515))
            ThreePointArc((-25.505833599, 21.9075006515), (-23.2607695687, 22.8374366212), (-22.330833599, 25.0825006515))
            Line((-22.330833599, 25.0825006515), (-22.330833599, 28.2575006515))
            ThreePointArc((-22.330833599, 28.2575006515), (-23.2607695687, 30.5025646817), (-25.505833599, 31.4325006515))
        make_face()
        with BuildLine():
            Line((-13.7357695687, 43.2025646817), (-16.9107695687, 43.2025646817))
            ThreePointArc((-16.9107695687, 43.2025646817), (-19.155833599, 42.272628712), (-20.0857695687, 40.0275646817))
            Line((-20.0857695687, 40.0275646817), (-20.0857695687, 36.8525646817))
            ThreePointArc((-20.0857695687, 36.8525646817), (-19.155833599, 34.6075006515), (-16.9107695687, 33.6775646817))
            Line((-16.9107695687, 33.6775646817), (-13.7357695687, 33.6775646817))
            ThreePointArc((-13.7357695687, 33.6775646817), (-11.4907055384, 34.6075006515), (-10.5607695687, 36.8525646817))
            Line((-10.5607695687, 36.8525646817), (-10.5607695687, 40.0275646817))
            ThreePointArc((-10.5607695687, 40.0275646817), (-11.4907055384, 42.272628712), (-13.7357695687, 43.2025646817))
        make_face()
        with BuildLine():
            Line((-1.9657055384, 54.972628712), (-5.1407055384, 54.972628712))
            ThreePointArc((-5.1407055384, 54.972628712), (-7.3857695687, 54.0426927423), (-8.3157055384, 51.797628712))
            Line((-8.3157055384, 51.797628712), (-8.3157055384, 48.622628712))
            ThreePointArc((-8.3157055384, 48.622628712), (-7.3857695687, 46.3775646817), (-5.1407055384, 45.447628712))
            Line((-5.1407055384, 45.447628712), (-1.9657055384, 45.447628712))
            ThreePointArc((-1.9657055384, 45.447628712), (0.2793584918, 46.3775646817), (1.2092944616, 48.622628712))
            Line((1.2092944616, 48.622628712), (1.2092944616, 51.797628712))
            ThreePointArc((1.2092944616, 51.797628712), (0.2793584918, 54.0426927423), (-1.9657055384, 54.972628712))
        make_face()
    extrude(amount=-F2_DEPTH, mode=Mode.SUBTRACT)


solid = f1.part
